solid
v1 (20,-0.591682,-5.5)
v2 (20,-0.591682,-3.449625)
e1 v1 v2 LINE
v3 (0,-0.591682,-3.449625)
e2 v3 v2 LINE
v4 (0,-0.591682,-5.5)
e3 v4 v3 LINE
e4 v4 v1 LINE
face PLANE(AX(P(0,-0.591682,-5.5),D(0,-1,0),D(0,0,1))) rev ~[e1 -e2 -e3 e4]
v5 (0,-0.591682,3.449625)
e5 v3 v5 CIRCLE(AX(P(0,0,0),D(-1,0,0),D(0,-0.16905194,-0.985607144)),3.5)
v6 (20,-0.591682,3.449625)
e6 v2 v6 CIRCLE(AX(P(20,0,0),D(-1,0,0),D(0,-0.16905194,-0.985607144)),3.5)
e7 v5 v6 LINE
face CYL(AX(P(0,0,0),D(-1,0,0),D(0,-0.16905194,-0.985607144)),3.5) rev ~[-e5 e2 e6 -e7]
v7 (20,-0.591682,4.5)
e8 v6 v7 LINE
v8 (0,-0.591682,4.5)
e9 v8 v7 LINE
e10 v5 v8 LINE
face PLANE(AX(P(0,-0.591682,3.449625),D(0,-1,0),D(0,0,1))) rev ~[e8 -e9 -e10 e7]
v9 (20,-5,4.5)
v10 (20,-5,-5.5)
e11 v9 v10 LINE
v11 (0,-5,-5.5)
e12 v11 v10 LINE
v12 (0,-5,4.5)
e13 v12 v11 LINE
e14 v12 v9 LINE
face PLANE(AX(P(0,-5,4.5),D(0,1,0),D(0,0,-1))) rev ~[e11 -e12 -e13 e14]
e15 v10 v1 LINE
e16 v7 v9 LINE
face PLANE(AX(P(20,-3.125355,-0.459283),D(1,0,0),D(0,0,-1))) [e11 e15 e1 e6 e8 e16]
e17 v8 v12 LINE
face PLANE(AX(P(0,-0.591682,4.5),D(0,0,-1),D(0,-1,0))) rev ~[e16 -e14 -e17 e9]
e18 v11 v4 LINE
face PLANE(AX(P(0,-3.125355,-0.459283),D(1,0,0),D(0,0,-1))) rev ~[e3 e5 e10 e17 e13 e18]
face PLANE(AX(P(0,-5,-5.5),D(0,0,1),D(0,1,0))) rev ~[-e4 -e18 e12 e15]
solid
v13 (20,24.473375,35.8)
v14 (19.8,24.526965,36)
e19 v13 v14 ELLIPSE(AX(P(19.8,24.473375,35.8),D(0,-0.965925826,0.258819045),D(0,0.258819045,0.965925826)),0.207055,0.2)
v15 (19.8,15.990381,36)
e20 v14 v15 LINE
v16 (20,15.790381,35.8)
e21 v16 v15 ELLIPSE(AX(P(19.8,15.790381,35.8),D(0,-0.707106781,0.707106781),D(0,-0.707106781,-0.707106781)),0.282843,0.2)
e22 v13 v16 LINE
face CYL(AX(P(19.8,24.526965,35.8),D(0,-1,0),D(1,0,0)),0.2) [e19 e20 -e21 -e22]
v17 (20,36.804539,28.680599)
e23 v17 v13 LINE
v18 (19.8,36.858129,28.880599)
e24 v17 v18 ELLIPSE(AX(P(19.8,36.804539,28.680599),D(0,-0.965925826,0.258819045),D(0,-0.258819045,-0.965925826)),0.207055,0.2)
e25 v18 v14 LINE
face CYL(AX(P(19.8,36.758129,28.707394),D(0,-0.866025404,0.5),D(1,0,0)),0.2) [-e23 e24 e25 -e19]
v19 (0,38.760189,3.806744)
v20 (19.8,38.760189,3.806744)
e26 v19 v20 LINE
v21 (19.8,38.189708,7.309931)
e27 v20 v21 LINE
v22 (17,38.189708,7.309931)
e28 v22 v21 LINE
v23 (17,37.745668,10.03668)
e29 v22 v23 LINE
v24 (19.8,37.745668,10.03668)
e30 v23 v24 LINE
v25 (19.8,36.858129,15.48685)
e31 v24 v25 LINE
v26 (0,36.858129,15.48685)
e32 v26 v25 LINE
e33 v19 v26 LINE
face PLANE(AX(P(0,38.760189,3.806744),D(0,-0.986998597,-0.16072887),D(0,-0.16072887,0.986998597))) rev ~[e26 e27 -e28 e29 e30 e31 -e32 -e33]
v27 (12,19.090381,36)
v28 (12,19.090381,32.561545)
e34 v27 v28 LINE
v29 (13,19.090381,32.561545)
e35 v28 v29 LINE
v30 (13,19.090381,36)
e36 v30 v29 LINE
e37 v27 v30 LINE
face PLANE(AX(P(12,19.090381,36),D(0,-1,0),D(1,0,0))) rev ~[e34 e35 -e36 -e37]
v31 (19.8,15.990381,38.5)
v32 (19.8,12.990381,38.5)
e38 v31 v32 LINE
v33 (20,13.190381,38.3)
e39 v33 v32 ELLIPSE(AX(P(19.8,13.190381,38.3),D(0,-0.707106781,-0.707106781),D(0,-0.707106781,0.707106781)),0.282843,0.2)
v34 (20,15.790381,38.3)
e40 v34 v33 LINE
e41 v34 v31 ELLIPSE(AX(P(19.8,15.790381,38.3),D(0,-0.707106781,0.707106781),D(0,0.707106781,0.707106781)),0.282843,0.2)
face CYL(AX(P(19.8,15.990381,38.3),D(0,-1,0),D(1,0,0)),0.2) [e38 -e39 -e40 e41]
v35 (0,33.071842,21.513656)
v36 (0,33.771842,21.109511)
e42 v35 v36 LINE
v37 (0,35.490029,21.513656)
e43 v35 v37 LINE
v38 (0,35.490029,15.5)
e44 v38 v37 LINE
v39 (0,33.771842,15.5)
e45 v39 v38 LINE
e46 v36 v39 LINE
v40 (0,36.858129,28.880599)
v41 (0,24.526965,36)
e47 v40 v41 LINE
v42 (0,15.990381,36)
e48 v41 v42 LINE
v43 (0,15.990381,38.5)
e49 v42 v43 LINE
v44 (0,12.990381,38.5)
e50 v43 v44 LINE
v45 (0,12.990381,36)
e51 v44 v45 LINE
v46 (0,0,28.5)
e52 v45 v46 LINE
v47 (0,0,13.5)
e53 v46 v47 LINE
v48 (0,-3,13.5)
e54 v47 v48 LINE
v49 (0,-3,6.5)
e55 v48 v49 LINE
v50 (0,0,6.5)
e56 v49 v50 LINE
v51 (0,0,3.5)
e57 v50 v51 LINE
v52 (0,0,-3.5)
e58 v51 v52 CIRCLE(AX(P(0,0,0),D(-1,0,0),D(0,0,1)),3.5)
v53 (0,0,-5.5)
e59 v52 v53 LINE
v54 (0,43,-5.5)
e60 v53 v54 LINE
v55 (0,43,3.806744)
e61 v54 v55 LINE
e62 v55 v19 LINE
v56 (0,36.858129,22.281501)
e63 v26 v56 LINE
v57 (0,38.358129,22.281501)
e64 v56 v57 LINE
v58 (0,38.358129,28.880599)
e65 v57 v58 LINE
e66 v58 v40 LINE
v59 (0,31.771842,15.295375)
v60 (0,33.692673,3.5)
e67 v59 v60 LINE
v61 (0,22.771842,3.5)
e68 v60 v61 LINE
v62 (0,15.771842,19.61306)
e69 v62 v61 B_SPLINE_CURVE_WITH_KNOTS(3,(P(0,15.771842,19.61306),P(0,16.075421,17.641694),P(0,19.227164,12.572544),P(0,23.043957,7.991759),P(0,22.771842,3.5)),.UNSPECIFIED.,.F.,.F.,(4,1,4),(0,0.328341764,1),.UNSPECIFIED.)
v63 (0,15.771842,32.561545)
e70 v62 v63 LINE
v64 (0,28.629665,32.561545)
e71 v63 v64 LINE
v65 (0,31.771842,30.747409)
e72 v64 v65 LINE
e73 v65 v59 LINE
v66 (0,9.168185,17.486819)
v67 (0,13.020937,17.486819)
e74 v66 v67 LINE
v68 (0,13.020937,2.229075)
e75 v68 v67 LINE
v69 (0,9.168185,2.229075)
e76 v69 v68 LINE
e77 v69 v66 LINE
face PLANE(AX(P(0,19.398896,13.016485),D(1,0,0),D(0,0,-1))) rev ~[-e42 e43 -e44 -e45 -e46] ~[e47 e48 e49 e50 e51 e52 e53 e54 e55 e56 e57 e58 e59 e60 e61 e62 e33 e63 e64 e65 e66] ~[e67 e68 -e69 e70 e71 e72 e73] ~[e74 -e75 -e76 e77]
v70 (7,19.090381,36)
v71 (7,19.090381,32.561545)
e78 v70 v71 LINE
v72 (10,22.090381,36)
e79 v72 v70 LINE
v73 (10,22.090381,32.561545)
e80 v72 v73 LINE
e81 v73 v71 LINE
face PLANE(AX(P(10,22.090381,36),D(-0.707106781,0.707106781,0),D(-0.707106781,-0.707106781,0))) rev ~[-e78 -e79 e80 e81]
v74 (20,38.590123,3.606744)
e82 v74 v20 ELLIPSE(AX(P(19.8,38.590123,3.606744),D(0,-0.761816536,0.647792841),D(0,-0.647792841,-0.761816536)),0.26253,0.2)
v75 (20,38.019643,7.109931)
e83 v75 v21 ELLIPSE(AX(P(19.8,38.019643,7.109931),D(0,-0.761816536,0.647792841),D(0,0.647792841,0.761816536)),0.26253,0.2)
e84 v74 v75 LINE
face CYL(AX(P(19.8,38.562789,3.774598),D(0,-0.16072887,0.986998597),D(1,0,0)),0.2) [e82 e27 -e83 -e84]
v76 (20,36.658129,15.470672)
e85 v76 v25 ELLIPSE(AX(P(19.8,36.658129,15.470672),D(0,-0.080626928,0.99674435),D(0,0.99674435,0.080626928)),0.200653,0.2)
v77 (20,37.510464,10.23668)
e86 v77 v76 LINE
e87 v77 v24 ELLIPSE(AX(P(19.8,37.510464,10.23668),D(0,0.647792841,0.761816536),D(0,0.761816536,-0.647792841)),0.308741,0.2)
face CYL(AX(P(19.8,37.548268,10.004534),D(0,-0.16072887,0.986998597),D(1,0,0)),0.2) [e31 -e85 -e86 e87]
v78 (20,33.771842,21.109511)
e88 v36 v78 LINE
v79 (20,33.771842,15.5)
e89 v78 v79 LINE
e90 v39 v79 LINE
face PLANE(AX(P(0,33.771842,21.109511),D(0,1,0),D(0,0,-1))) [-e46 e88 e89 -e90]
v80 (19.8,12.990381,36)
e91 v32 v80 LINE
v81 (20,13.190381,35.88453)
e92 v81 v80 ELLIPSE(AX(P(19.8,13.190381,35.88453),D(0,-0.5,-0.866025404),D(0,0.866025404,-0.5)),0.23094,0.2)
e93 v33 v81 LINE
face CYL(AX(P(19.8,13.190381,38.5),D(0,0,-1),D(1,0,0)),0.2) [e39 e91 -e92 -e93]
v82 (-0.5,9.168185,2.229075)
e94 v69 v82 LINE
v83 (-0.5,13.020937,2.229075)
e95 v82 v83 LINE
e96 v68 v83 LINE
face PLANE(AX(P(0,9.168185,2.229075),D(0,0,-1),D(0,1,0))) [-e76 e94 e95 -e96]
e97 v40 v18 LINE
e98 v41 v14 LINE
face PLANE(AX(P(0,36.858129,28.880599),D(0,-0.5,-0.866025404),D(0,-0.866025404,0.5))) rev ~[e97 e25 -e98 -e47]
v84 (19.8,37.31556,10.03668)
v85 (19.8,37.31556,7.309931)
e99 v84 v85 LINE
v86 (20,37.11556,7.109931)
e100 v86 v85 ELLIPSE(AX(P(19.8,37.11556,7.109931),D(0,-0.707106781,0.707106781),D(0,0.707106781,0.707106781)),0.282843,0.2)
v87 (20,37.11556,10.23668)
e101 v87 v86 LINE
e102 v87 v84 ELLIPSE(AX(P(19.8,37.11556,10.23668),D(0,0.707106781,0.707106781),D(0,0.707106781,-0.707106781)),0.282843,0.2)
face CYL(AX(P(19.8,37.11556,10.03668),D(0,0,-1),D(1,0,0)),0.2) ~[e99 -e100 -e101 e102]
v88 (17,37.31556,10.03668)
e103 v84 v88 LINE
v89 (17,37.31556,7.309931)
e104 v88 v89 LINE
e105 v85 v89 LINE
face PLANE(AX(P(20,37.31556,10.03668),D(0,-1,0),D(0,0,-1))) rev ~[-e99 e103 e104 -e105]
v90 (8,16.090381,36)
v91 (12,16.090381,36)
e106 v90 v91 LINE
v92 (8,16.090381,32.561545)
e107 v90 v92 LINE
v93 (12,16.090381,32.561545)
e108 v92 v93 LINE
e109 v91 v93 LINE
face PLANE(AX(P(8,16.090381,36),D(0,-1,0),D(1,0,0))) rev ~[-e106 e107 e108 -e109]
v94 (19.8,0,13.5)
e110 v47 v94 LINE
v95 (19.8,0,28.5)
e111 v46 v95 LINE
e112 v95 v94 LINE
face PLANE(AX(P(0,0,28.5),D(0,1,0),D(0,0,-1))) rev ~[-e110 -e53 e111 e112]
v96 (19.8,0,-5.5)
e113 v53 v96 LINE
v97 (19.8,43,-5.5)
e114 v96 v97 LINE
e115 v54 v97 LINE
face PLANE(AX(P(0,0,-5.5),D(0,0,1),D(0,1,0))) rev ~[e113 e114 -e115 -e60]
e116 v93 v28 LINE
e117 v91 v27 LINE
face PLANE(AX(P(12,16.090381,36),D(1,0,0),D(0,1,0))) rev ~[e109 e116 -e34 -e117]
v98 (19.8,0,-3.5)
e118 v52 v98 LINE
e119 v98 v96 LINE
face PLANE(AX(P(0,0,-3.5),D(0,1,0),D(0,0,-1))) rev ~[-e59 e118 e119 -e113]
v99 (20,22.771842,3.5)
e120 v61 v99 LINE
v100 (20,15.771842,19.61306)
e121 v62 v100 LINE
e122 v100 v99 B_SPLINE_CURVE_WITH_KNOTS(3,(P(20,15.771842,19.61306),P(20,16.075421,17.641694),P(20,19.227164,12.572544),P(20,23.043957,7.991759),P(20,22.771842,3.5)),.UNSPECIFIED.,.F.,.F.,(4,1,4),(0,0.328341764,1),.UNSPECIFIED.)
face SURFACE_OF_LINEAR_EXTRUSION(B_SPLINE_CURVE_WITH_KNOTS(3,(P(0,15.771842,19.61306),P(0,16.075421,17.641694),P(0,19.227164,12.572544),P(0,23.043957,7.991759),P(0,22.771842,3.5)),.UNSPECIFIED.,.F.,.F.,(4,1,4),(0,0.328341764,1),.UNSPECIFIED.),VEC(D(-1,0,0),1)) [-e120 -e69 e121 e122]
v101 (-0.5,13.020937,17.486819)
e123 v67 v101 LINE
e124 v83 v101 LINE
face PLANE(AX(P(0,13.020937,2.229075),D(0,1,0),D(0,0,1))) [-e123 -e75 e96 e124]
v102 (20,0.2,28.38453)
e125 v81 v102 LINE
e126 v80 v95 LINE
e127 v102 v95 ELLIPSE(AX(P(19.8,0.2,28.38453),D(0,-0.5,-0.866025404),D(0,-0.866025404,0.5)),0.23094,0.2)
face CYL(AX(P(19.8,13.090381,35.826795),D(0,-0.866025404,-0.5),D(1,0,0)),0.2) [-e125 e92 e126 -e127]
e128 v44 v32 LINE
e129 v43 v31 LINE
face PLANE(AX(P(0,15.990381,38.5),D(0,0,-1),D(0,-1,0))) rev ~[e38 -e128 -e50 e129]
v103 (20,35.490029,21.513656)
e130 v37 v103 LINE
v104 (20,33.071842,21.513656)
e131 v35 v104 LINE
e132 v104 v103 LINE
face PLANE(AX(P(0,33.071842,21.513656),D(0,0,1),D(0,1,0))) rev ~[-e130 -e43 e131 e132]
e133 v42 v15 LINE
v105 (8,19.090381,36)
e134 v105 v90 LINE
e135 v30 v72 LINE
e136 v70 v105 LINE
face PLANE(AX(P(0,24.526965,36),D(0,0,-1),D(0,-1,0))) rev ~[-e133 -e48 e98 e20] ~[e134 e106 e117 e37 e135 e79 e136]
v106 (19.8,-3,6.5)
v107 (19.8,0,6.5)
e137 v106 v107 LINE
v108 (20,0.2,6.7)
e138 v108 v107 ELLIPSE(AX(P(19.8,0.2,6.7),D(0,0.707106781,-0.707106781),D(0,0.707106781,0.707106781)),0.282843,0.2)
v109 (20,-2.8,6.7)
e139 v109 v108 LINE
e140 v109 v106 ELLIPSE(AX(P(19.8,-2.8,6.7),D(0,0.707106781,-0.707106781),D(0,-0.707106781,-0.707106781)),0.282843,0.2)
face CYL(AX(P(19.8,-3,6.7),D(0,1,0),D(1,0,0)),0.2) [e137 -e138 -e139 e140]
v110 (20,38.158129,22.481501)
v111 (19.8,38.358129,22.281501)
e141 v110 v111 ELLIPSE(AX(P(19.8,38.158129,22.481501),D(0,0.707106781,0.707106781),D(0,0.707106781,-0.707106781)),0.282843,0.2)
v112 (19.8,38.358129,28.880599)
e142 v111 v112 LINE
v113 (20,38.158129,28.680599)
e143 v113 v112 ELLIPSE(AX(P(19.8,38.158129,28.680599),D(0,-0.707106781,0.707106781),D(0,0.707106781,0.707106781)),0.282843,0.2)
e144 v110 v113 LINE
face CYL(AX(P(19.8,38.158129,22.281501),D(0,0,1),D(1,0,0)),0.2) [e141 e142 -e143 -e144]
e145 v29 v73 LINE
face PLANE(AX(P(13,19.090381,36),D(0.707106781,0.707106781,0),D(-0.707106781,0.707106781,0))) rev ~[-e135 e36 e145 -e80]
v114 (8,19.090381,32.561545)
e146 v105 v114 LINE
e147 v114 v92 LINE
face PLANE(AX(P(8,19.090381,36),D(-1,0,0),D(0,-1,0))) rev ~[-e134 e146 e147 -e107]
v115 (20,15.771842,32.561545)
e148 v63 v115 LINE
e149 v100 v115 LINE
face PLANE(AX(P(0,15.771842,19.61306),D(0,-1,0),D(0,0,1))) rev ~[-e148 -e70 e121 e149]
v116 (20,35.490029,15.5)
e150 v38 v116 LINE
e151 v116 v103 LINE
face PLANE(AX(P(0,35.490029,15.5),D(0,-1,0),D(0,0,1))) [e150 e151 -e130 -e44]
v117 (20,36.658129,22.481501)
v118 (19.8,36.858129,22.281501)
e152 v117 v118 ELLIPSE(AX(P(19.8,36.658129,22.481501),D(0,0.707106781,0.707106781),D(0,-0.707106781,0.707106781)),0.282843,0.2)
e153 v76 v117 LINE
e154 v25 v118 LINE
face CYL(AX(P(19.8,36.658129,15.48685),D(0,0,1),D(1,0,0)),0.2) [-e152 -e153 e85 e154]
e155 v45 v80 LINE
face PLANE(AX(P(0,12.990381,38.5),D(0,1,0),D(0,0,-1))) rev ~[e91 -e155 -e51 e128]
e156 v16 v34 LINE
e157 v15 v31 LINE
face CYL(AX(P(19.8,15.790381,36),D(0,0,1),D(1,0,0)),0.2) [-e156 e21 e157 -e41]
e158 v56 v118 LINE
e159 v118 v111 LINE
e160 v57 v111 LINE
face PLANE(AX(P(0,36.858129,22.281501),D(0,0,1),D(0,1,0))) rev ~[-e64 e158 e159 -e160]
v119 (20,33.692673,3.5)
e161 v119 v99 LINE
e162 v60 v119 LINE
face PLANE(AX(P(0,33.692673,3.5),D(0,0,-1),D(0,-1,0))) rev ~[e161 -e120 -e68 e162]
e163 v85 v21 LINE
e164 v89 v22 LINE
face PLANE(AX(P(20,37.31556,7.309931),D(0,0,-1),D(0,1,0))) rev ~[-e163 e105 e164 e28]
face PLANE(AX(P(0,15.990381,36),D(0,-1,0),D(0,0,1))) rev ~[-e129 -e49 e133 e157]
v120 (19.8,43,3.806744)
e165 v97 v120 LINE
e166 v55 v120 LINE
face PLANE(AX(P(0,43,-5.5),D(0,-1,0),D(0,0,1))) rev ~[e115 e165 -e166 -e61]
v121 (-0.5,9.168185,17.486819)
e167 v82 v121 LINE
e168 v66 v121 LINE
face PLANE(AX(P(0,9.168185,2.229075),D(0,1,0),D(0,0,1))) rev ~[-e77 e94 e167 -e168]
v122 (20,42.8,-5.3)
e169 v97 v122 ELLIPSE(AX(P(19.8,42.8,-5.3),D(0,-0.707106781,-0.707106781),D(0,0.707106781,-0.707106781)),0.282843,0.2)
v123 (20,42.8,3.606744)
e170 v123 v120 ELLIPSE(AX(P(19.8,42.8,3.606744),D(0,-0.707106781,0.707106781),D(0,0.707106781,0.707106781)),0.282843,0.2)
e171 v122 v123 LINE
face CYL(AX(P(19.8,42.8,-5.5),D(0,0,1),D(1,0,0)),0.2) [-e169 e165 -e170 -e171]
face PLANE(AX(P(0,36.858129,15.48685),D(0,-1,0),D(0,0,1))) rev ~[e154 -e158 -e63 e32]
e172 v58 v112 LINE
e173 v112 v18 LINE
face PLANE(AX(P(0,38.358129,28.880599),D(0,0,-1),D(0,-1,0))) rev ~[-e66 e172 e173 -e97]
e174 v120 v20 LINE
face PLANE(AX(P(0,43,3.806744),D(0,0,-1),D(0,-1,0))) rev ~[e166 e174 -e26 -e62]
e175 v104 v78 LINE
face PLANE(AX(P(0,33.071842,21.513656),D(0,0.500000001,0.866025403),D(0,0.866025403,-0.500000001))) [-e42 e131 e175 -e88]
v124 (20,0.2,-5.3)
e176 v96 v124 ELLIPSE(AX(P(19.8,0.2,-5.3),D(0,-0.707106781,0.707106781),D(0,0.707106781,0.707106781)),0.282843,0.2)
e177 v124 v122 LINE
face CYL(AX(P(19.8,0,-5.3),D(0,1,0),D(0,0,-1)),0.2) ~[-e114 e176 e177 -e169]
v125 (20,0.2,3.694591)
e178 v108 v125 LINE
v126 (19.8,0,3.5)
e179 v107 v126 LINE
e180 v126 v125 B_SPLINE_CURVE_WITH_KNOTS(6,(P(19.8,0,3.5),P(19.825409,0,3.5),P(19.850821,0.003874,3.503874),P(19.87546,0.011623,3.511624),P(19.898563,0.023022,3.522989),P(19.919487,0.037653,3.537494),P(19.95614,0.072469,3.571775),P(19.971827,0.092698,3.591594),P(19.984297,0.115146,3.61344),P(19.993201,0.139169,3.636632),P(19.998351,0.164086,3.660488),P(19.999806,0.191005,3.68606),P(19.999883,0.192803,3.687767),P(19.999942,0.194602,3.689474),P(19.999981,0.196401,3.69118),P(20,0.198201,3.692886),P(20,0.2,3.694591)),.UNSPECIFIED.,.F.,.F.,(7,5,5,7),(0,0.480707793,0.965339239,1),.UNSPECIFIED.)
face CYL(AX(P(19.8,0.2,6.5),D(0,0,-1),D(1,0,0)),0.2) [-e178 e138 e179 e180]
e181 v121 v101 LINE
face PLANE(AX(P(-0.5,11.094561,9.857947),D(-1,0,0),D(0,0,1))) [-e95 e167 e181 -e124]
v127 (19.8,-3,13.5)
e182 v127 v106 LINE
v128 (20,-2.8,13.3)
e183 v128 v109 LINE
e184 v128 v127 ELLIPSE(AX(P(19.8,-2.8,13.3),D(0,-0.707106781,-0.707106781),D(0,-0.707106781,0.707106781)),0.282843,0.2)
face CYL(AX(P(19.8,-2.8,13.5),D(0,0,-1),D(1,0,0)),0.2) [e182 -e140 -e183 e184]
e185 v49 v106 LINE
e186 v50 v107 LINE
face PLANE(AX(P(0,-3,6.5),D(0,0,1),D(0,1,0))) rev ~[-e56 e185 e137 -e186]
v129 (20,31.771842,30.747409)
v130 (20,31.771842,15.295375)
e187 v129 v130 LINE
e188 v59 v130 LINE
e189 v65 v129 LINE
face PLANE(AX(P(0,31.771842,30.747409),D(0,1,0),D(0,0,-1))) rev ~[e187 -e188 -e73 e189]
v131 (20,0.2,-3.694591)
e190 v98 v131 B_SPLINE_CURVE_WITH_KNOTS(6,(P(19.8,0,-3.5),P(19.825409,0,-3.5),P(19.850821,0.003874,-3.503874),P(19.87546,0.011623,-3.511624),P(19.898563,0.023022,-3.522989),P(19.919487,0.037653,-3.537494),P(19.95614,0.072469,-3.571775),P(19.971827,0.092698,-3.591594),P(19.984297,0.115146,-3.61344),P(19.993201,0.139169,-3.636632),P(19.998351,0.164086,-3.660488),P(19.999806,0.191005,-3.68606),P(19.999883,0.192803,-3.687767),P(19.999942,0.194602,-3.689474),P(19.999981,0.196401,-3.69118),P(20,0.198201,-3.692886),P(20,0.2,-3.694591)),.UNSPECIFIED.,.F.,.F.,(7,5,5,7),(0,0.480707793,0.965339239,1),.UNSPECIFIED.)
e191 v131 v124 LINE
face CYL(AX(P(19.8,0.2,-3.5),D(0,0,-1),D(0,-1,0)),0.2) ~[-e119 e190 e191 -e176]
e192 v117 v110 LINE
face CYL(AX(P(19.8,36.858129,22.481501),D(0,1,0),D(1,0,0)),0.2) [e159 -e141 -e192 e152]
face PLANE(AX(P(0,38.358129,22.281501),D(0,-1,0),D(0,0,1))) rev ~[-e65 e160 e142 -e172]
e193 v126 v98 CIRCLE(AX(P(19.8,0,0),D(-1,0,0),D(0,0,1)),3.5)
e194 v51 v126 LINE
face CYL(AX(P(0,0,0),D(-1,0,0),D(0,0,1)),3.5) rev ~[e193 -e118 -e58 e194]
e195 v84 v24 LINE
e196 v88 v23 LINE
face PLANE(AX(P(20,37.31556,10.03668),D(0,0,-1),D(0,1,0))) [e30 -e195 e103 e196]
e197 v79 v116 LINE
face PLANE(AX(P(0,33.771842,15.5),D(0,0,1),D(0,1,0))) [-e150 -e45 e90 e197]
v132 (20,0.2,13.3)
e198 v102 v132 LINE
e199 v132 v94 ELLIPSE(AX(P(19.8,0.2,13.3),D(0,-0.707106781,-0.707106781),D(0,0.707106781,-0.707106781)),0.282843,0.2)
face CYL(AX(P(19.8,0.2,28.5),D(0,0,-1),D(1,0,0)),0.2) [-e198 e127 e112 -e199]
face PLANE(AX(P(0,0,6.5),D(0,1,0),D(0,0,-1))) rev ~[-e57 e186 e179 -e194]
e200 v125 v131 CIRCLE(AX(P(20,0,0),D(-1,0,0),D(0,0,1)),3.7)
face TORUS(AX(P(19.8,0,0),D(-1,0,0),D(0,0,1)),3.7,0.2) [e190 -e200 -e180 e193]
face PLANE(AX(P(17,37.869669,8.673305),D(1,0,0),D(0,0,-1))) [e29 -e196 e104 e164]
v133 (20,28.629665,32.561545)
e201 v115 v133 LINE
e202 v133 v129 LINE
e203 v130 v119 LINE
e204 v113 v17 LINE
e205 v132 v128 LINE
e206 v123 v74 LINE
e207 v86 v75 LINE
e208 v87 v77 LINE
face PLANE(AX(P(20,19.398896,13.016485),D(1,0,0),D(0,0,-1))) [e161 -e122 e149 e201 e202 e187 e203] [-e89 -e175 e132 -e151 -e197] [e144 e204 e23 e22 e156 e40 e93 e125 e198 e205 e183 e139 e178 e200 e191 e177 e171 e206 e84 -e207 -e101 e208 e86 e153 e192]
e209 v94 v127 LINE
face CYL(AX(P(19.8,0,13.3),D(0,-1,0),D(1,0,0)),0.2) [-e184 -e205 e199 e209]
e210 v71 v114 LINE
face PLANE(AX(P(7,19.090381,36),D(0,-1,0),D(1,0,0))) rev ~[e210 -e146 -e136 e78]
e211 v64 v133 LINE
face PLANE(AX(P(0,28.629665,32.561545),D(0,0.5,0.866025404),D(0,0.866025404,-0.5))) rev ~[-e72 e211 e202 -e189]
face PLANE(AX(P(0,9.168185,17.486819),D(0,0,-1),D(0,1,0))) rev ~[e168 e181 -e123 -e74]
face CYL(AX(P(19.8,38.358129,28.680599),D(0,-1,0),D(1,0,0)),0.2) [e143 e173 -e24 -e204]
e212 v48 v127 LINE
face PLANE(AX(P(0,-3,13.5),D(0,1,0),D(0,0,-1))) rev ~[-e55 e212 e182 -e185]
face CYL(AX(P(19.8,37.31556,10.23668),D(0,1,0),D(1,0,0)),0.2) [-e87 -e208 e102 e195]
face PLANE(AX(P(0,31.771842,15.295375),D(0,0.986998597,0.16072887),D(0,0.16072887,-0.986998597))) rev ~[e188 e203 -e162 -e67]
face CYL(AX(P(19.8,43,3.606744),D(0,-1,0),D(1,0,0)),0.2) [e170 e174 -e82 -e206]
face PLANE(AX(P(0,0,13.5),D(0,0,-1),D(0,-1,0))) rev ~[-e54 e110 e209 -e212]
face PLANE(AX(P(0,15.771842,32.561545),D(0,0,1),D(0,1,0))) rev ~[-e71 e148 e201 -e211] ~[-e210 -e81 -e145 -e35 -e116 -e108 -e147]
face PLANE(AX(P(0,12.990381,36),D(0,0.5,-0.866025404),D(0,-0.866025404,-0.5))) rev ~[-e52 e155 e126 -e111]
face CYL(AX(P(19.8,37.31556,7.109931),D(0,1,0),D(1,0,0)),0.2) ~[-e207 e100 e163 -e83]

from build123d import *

# Parameters (mm, degrees)
BOSS_EXTRUDE4_DEPTH   = 20
BOSS_EXTRUDE4_2_DEPTH = 20
SKETCH2_W             = 2.726749215
SKETCH2_H             = 1.108217781
CUT_EXTRUDE1_DEPTH    = 3
CUT_EXTRUDE2_DEPTH    = 3.438454738
FILLET3_R             = 0.2
SKETCH5_W             = 15.257743359
SKETCH5_H             = 3.852751868
BOSS_EXTRUDE6_DEPTH   = 0.5


with BuildPart() as part:
    # Sketch1 → Boss-Extrude4 (new body)
    with BuildSketch(Plane(origin=(0, 0, 0), x_dir=(0, 0, -1), z_dir=(1, 0, 0))):
        with BuildLine():
            Line((3.5, 0), (5.5, 0))
            Line((5.5, 0), (5.5, 43))
            Line((5.5, 43), (-3.806743928, 43))
            Line((-3.806743928, 43), (-3.806743928, 38.760188506))
            Line((-3.806743928, 38.760188506), (-15.486850398, 36.858128752))
            Line((-15.486850398, 36.858128752), (-22.281500583, 36.858128752))
            Line((-22.281500583, 36.858128752), (-22.281500583, 38.358128752))
            Line((-22.281500583, 38.358128752), (-28.880599398, 38.358128752))
            Line((-28.880599398, 38.358128752), (-28.880599398, 36.858128752))
            Line((-28.880599398, 36.858128752), (-36, 24.526965191))
            Line((-36, 24.526965191), (-36, 15.990381057))
            Line((-36, 15.990381057), (-38.5, 15.990381057))
            Line((-38.5, 15.990381057), (-38.5, 12.990381057))
            Line((-38.5, 12.990381057), (-36, 12.990381057))
            Line((-36, 12.990381057), (-28.5, 0))
            Line((-28.5, 0), (-13.5, 0))
            Line((-13.5, 0), (-13.5, -3))
            Line((-13.5, -3), (-6.5, -3))
            Line((-6.5, -3), (-6.5, 0))
            Line((-6.5, 0), (-3.5, 0))
            ThreePointArc((-3.5, 0), (0, 3.5), (3.5, 0))
        make_face()
        Polygon((-21.513655911, 33.751666658), (-21.513655911, 33.071841875), (-21.109510722, 33.771841875), (-15.5, 33.771841875), (-15.5, 35.490029279), (-21.513655911, 35.490029279), align=None, mode=Mode.SUBTRACT)
        with BuildLine():
            Line((-32.561545262, 15.771841875), (-32.561545262, 28.629664887))
            Line((-32.561545262, 28.629664887), (-30.747408532, 31.771841875))
            Line((-30.747408532, 31.771841875), (-15.295375391, 31.771841875))
            Line((-15.295375391, 31.771841875), (-3.5, 33.692672724))
            Line((-3.5, 33.692672724), (-3.5, 22.771841875))
            add(Edge.make_bspline(
                [(-19.613060355, 15.771841875), (-17.641693556, 16.075420699), (-12.572544243, 19.227163792), (-7.991758563, 23.043956777), (-3.5, 22.771841875)],
                knots=[0, 0, 0, 0, 0.328341764, 1, 1, 1, 1], degree=3))
            Line((-19.613060355, 15.771841875), (-32.561545262, 15.771841875))
        make_face(mode=Mode.SUBTRACT)
    extrude(amount=BOSS_EXTRUDE4_DEPTH)

    # Sketch2 → Cut-Extrude1 (cut)
    with BuildSketch(Plane(origin=(20, 0, 0), x_dir=(0, 0, -1), z_dir=(1, 0, 0))):
        with Locations((-8.673305173, 37.869668981)):
            Rectangle(SKETCH2_W, SKETCH2_H)
    extrude(amount=-CUT_EXTRUDE1_DEPTH, mode=Mode.SUBTRACT)

    # Sketch3 → Cut-Extrude2 (cut)
    with BuildSketch(Plane.XY.offset(36)):
        Polygon((8, 16.090381057), (12, 16.090381057), (12, 19.090381057), (13, 19.090381057), (10, 22.090381057), (7, 19.090381057), (8, 19.090381057), align=None)
    extrude(amount=-CUT_EXTRUDE2_DEPTH, mode=Mode.SUBTRACT)

    # Fillet3
    fillet3_edges = [part.edges().sort_by_distance(p)[0] for p in [
        (20, 21.5, -5.5),
        (20, 37.752634163, 7.309930565),
        (20, 37.530613929, 10.03667978),
        (20, 37.315560091, 8.673305173),
        (20, 43, -0.846628036),
        (20, 40.880094253, 3.806743928),
        (20, 38.47494837, 5.558337246),
        (20, 36.858128752, 18.88417549),
        (20, 37.608128752, 22.281500583),
        (20, 38.358128752, 25.581049991),
        (20, 37.608128752, 28.880599398),
        (20, 30.692546971, 32.440299699),
        (20, 20.258673124, 36),
        (20, 3.5, 0),
        (20, 15.990381057, 37.25),
        (20, 14.490381057, 38.5),
        (20, 12.990381057, 37.25),
        (20, 6.495190528, 32.25),
        (20, 0, 21),
        (20, -1.5, 13.5),
        (20, -3, 10),
        (20, -1.5, 6.5),
        (20, 0, 5),
        (20, 0, -4.5),
        (20, 37.301898259, 12.761765089),
    ]]
    fillet(fillet3_edges, radius=FILLET3_R)

    # Sketch5 → Boss-Extrude6 (add)
    with BuildSketch(Plane.ZY):
        with Locations((9.857947025, 11.094561214)):
            Rectangle(SKETCH5_W, SKETCH5_H)
    extrude(amount=BOSS_EXTRUDE6_DEPTH)


with BuildPart() as body_2:
    # Sketch1 → Boss-Extrude4 2 (new body)
    with BuildSketch(Plane(origin=(0, 0, 0), x_dir=(0, 0, -1), z_dir=(1, 0, 0))):
        with BuildLine():
            Line((-3.449625002, -0.591681791), (-4.5, -0.591681791))
            Line((-4.5, -0.591681791), (-4.5, -5))
            Line((-4.5, -5), (5.5, -5))
            Line((5.5, -5), (5.5, -0.591681791))
            Line((5.5, -0.591681791), (3.449625002, -0.591681791))
            ThreePointArc((3.449625002, -0.591681791), (0, -3.5), (-3.449625002, -0.591681791))
        make_face()
    extrude(amount=BOSS_EXTRUDE4_2_DEPTH)


solid = Compound([part.part, body_2.part])
